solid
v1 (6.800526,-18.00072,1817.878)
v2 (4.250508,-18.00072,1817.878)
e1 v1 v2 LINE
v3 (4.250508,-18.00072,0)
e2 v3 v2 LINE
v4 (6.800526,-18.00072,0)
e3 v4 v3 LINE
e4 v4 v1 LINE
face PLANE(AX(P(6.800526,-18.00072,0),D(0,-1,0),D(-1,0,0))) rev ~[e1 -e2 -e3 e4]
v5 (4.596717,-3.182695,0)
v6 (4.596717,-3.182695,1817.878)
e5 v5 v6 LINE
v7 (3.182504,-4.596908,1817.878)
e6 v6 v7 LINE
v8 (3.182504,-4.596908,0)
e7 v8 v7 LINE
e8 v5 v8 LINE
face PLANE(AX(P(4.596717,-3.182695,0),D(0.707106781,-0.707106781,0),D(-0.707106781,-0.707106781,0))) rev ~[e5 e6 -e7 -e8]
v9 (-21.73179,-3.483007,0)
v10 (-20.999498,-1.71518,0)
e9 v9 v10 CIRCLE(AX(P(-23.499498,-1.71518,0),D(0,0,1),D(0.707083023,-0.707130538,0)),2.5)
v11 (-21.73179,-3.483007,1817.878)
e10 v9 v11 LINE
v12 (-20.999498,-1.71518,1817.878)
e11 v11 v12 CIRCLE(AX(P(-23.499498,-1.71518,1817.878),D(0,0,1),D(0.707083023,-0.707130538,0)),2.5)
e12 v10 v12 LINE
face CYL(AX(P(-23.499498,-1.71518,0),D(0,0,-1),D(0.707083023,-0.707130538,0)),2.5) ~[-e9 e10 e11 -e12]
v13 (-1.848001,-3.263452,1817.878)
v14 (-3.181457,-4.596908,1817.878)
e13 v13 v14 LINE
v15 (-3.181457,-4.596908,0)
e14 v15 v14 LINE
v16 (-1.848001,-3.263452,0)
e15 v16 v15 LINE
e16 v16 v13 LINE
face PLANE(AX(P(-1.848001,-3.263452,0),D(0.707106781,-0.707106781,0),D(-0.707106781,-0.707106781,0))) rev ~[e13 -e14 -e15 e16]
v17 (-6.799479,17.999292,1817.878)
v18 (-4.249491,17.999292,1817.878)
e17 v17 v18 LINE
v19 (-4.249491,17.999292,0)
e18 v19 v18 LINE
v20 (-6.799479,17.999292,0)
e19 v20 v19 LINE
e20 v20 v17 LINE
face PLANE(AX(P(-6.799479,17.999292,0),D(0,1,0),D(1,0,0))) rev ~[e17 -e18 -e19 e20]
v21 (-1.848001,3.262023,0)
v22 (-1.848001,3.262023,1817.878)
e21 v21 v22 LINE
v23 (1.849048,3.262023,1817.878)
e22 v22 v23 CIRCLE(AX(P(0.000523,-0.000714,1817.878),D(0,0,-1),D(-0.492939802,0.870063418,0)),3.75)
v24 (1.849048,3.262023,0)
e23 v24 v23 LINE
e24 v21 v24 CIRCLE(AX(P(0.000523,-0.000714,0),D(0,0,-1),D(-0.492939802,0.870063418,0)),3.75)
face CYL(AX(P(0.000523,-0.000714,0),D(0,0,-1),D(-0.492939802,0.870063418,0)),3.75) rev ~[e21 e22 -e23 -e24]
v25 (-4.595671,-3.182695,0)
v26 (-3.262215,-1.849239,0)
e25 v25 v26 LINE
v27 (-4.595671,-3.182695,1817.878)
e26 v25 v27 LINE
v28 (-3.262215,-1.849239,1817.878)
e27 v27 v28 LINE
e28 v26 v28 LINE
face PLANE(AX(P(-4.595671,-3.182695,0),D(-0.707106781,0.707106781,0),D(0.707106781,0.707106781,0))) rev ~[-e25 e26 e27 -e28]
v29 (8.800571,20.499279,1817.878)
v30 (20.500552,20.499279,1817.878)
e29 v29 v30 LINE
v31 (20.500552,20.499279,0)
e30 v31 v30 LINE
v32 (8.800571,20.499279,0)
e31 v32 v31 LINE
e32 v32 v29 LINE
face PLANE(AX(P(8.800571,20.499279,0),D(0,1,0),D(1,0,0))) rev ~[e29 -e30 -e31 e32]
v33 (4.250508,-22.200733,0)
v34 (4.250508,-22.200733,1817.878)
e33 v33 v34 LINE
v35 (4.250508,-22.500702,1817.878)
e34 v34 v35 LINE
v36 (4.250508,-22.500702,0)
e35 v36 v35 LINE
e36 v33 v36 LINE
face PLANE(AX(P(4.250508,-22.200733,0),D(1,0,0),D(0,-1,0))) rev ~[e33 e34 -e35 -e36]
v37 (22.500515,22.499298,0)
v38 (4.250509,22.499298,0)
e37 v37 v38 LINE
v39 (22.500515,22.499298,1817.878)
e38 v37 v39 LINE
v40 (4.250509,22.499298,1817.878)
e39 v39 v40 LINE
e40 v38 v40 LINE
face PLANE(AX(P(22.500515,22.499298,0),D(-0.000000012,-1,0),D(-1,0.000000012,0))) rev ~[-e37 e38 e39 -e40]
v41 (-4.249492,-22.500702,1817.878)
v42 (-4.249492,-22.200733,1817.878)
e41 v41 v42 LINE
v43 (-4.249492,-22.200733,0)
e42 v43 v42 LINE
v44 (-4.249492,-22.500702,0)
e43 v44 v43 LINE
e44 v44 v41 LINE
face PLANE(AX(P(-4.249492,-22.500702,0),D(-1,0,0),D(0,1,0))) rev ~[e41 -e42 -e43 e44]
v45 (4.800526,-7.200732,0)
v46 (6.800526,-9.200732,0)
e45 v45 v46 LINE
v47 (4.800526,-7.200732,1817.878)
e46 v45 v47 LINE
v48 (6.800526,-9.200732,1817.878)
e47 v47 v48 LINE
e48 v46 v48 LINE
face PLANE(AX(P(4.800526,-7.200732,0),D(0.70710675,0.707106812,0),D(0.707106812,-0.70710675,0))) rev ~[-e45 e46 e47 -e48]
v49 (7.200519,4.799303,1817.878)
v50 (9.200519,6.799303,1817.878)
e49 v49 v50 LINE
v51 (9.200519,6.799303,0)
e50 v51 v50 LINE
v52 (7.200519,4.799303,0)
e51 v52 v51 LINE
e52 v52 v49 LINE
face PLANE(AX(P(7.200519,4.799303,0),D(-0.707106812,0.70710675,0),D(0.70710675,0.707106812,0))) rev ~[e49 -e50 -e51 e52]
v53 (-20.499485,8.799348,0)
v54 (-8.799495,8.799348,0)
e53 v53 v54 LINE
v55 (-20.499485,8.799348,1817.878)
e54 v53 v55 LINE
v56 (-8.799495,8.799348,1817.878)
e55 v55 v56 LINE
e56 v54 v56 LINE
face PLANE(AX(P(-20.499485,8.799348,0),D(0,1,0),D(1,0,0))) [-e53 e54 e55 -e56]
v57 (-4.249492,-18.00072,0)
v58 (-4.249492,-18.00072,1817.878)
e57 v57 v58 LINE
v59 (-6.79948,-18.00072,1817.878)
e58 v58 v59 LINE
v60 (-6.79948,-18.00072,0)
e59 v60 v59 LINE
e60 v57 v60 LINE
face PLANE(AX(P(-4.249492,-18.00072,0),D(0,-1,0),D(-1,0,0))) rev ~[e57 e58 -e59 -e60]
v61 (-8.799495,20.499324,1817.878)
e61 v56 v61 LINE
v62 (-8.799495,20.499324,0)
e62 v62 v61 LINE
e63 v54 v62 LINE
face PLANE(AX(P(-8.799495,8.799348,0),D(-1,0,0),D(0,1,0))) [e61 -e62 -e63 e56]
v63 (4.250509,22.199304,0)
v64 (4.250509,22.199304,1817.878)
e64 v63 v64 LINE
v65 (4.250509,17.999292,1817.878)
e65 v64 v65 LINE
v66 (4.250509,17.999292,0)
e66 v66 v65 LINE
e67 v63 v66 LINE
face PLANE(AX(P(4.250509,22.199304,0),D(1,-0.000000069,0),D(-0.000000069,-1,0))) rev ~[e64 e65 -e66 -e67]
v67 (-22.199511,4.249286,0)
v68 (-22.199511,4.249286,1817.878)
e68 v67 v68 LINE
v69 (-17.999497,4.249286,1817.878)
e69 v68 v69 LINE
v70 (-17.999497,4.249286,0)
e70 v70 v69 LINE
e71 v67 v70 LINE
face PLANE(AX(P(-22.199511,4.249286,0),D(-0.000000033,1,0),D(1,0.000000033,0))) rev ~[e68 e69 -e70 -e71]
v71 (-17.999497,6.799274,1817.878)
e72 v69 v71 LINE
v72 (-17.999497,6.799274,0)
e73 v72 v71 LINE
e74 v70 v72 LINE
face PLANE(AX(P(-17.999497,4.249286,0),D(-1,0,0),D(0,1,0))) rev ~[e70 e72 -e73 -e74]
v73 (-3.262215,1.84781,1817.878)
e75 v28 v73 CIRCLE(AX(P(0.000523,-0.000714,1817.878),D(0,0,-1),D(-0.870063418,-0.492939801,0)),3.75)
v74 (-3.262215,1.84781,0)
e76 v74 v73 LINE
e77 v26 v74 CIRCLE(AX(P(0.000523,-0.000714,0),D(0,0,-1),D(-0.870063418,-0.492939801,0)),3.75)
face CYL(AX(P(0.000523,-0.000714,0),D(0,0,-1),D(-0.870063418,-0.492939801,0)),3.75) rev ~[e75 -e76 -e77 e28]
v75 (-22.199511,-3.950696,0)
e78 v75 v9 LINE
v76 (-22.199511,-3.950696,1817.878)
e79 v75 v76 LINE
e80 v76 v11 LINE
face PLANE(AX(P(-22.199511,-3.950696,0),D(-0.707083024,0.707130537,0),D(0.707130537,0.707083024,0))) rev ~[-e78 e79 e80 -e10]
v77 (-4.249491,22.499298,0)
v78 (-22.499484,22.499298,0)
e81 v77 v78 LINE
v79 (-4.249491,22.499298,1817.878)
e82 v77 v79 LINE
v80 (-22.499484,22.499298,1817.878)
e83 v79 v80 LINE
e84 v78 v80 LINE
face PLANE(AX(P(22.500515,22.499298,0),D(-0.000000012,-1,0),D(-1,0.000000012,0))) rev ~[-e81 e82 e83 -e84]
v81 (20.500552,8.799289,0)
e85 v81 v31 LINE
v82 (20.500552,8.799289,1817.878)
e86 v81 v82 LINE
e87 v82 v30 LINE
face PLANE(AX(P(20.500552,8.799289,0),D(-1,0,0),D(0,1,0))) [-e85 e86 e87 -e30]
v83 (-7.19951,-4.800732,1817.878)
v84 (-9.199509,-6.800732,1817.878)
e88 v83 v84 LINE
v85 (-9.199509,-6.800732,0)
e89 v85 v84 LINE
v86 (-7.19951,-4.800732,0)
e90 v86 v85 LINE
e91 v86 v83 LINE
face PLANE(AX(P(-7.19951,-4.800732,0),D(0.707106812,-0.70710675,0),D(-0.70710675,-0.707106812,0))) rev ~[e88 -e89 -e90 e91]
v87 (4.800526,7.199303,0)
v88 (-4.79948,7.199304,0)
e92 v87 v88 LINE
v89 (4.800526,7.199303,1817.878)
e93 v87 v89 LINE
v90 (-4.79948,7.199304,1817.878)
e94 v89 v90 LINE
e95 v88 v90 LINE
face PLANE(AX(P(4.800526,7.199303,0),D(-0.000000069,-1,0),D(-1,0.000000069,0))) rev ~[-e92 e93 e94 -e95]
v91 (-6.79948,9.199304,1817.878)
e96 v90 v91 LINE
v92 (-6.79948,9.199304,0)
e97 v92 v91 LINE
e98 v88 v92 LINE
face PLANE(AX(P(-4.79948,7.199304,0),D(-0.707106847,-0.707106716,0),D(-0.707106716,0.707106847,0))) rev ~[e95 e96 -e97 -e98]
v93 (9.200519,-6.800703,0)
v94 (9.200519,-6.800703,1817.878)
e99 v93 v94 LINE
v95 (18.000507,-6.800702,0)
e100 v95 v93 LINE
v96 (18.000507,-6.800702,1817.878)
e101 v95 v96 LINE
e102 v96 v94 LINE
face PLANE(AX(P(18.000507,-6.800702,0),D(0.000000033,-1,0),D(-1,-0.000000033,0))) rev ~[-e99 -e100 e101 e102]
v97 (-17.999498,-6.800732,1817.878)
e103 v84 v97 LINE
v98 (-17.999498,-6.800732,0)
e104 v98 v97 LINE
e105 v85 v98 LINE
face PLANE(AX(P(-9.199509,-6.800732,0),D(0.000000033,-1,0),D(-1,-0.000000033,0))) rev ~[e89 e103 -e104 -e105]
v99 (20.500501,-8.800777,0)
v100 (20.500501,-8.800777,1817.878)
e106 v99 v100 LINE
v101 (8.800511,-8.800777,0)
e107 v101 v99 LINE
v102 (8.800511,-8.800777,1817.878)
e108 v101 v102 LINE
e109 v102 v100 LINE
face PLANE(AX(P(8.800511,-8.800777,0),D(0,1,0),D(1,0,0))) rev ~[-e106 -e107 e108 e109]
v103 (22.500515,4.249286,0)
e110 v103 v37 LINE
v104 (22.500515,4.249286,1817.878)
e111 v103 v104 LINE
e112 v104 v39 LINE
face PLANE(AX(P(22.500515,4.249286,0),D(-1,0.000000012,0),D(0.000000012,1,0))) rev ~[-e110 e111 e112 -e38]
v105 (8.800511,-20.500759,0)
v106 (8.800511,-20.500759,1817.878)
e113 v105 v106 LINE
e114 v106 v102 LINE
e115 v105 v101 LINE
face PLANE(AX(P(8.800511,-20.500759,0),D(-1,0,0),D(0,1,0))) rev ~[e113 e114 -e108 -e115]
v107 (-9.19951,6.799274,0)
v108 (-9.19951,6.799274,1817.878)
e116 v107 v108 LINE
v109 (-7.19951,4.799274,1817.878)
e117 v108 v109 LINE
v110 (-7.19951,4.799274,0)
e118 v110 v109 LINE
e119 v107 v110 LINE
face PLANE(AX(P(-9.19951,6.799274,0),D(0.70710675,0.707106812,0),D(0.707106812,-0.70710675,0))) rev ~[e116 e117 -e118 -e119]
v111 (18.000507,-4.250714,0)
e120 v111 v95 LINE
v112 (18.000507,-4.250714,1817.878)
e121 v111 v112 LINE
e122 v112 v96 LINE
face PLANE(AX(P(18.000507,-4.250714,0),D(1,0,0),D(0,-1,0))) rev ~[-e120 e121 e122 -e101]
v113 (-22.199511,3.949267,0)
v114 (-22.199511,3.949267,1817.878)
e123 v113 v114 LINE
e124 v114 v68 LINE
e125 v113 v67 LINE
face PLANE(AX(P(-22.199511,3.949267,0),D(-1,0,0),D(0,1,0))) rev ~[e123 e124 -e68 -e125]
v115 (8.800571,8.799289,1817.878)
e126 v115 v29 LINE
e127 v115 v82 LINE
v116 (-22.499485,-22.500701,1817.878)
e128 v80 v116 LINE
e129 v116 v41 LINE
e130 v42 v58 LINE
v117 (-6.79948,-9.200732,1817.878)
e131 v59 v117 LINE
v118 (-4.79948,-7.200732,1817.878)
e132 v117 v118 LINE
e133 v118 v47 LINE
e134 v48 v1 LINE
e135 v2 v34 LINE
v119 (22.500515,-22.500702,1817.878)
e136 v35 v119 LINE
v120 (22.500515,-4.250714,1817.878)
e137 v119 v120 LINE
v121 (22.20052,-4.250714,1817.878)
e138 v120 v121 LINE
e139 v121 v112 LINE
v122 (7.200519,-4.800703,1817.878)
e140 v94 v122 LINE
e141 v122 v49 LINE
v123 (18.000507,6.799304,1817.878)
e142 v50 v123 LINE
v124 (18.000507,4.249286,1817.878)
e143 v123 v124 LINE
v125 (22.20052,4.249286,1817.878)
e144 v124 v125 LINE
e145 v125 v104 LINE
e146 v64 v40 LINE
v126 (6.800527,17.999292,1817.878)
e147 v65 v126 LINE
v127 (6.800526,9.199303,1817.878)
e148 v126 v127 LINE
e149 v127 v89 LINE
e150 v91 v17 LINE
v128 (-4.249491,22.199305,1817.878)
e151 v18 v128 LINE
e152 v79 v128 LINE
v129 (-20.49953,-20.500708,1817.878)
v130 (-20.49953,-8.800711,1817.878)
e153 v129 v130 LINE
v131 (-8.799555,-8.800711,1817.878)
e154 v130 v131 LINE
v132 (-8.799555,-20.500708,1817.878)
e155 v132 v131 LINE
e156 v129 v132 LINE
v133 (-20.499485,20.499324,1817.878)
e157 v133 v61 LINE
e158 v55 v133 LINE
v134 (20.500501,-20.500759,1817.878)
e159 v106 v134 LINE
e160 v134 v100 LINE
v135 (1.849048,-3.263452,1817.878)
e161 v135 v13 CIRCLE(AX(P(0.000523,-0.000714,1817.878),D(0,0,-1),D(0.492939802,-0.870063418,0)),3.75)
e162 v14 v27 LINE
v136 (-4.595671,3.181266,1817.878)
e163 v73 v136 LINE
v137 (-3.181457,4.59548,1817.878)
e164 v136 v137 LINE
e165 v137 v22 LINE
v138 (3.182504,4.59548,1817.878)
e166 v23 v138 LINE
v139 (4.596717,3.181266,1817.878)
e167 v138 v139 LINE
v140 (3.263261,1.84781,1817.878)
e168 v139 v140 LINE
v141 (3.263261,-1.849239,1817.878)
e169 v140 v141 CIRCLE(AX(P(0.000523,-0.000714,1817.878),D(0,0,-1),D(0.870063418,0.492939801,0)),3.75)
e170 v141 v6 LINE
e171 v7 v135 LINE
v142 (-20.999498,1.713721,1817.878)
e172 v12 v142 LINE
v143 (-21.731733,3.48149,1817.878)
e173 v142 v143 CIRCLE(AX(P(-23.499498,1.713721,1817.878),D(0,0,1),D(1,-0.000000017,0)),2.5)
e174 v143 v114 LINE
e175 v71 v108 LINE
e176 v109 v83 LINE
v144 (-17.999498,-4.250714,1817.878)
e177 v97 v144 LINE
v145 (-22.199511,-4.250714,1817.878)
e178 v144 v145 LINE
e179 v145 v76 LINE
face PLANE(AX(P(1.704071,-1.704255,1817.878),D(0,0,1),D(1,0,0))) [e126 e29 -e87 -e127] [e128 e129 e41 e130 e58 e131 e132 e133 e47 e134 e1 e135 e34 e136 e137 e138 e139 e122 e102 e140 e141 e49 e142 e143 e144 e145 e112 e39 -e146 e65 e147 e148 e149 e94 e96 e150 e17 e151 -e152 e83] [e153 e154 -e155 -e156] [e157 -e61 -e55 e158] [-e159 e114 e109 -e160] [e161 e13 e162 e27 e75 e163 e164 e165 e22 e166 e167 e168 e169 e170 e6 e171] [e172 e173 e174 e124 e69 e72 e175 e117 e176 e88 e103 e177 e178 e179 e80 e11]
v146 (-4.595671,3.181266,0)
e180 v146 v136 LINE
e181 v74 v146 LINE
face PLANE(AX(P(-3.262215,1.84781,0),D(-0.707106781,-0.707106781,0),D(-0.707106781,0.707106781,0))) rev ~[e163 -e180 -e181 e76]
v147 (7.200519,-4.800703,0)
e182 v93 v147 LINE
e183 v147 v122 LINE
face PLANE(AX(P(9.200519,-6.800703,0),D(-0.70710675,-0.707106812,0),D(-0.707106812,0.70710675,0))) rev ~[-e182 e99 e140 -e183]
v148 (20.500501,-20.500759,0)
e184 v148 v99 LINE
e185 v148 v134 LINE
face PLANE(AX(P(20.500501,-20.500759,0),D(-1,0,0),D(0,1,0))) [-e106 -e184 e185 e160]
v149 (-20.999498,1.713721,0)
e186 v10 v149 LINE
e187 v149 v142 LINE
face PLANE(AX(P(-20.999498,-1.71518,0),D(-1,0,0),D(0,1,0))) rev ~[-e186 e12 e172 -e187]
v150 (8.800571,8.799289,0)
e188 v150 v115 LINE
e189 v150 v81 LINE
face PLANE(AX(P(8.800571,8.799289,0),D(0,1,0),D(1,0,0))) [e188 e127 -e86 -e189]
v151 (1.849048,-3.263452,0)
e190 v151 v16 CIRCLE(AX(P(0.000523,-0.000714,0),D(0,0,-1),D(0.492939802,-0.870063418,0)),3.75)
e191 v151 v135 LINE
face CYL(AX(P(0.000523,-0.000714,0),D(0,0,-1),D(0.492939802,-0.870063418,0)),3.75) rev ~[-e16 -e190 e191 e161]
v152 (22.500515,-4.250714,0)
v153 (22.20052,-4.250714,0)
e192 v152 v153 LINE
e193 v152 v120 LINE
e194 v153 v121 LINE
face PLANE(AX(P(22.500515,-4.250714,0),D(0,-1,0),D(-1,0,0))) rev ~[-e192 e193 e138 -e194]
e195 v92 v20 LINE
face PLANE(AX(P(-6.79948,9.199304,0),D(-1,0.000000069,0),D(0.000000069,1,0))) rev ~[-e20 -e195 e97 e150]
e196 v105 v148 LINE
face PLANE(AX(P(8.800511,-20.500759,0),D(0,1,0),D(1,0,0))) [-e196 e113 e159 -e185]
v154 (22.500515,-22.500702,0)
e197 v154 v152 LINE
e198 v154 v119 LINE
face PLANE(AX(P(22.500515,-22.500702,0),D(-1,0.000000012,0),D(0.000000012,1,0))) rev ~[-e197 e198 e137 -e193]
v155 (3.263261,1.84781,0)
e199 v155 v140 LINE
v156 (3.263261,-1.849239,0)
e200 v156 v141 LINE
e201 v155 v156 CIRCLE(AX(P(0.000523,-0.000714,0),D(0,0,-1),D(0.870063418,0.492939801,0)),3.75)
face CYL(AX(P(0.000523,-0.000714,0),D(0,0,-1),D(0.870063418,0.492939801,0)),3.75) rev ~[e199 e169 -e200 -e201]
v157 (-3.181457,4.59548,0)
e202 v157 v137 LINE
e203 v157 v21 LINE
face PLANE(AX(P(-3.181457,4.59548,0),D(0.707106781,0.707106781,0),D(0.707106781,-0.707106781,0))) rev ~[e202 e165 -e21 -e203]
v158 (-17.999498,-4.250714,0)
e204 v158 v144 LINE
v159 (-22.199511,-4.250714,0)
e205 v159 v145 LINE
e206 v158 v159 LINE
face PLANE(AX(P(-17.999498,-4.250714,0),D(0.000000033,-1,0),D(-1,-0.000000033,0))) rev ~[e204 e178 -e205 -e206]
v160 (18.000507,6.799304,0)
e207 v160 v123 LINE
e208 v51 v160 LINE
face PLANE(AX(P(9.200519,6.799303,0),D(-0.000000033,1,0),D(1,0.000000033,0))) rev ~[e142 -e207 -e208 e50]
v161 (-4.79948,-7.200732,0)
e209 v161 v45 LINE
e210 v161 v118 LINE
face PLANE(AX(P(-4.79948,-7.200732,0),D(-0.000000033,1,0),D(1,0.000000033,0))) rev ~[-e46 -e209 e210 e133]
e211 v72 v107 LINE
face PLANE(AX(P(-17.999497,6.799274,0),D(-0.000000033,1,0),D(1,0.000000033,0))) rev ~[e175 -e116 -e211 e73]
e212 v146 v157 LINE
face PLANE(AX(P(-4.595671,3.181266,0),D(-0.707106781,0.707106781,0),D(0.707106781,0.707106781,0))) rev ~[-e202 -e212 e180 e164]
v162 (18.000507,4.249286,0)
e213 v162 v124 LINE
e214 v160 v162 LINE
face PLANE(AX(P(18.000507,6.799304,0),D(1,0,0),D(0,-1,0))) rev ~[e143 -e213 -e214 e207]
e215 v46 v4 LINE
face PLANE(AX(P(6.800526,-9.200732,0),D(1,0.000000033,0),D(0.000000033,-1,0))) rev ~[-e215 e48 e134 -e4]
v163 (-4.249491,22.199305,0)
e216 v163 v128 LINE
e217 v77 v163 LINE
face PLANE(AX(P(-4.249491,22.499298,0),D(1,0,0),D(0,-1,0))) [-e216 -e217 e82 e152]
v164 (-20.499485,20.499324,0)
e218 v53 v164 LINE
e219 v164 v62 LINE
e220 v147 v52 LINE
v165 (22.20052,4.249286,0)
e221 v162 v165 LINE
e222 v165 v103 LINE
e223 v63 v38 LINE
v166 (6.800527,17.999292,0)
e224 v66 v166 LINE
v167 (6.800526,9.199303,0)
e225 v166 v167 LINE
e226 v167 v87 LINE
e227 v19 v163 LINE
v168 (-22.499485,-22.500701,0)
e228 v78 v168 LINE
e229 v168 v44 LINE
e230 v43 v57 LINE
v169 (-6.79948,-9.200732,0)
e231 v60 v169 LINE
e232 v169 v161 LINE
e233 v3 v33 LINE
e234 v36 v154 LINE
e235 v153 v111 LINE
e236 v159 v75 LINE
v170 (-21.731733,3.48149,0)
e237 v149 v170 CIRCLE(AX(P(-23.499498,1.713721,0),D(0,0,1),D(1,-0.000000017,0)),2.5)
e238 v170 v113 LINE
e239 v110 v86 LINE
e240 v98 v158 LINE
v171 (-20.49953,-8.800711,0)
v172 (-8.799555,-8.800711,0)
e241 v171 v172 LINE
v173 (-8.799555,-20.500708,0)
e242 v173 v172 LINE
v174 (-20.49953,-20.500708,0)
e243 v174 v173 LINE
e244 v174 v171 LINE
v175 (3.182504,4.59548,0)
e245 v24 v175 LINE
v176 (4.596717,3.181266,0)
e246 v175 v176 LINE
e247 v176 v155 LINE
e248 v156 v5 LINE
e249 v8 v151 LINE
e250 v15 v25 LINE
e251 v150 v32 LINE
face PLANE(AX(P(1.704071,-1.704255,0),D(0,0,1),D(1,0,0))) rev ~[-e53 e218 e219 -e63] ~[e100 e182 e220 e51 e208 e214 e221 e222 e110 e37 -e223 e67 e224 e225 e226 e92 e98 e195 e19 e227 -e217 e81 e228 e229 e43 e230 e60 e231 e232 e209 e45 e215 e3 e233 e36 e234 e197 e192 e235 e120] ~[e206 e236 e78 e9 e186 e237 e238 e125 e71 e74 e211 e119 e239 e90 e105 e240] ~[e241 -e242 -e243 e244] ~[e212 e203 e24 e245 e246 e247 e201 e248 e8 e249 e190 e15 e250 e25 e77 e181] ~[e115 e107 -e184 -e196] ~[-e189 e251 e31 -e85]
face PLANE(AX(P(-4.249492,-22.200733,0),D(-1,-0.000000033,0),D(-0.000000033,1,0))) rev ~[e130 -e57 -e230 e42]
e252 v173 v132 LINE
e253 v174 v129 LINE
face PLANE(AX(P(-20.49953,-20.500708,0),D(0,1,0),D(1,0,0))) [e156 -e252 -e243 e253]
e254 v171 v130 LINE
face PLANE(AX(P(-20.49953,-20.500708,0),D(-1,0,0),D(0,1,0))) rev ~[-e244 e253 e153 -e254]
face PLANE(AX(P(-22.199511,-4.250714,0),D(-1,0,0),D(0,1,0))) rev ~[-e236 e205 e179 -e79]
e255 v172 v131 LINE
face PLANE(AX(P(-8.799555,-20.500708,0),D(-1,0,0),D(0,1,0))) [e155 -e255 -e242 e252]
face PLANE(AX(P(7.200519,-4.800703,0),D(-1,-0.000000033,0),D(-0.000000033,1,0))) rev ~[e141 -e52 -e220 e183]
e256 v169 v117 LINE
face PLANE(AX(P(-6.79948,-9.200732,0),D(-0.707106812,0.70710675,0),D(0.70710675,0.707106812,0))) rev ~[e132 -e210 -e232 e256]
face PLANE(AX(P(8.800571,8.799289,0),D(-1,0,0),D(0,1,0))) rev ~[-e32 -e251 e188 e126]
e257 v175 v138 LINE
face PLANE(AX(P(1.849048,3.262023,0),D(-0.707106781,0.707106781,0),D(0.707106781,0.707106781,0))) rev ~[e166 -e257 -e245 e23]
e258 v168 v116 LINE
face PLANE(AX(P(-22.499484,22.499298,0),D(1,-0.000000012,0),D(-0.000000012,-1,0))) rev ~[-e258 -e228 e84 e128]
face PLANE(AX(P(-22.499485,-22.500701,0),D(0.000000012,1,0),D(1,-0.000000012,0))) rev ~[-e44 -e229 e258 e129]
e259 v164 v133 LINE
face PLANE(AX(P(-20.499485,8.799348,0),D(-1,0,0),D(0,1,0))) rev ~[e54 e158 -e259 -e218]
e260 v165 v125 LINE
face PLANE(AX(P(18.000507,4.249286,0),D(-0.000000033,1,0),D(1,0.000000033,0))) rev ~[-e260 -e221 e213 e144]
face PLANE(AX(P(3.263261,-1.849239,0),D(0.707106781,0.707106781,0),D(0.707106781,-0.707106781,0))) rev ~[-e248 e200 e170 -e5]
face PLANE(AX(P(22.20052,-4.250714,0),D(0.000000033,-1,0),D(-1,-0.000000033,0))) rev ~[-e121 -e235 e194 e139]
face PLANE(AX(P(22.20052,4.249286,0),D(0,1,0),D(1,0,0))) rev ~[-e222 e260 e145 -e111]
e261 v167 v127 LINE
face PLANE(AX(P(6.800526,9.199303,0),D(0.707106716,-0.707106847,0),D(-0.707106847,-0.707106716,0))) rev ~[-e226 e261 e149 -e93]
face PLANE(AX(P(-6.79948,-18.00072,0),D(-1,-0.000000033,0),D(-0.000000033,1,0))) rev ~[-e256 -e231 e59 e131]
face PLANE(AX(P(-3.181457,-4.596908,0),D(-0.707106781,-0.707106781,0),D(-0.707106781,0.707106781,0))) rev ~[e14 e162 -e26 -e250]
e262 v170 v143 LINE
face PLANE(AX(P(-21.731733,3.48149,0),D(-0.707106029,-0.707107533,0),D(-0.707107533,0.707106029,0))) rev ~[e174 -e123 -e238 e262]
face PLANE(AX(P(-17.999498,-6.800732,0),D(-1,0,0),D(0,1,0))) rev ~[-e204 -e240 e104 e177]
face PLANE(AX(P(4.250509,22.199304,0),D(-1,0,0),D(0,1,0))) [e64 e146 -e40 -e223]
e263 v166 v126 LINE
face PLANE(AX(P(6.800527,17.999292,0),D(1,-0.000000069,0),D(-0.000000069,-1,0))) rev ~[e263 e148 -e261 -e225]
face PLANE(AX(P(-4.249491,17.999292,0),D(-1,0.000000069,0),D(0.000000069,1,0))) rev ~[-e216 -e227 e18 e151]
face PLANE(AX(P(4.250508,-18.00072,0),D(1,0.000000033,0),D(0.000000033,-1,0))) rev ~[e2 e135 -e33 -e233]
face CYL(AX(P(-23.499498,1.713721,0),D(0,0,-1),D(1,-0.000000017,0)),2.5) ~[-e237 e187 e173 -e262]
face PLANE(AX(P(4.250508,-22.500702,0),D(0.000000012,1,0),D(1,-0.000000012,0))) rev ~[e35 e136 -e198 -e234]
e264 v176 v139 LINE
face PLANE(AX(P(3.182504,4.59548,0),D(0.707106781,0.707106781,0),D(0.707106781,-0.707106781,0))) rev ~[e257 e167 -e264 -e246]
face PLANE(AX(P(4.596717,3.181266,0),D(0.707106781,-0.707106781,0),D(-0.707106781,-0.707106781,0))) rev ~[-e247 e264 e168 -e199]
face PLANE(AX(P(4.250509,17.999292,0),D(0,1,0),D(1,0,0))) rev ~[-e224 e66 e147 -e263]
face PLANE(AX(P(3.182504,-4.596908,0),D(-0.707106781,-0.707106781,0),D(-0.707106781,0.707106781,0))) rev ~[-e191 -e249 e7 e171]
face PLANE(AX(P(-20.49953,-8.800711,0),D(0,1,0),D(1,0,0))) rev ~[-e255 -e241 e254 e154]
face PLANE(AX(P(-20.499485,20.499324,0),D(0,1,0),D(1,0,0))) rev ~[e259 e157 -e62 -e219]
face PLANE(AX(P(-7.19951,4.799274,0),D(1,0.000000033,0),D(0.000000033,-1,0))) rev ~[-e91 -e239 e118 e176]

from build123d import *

# Parameters (mm, degrees)
SKETCH1_W           = 11.699975178
SKETCH1_H           = 11.699996949
SKETCH1_W_2         = 11.699990436
SKETCH1_H_2         = 11.699981689
SKETCH1_W_3         = 11.699990437
SKETCH1_H_3         = 11.699975177
SKETCH1_W_4         = 11.699981689
SKETCH1_H_4         = 11.699990436
BOSS_EXTRUDE1_DEPTH = 1817.878
CUT_EXTRUDE1_REACH  = 1820.156


with BuildPart() as part:
    # Sketch1 → Boss-Extrude1 (new body)
    with BuildSketch(Plane.XY):
        Polygon((22.500515052, 22.499297556), (-22.499484399, 22.499298105), (-22.499484948, -22.500701346), (-4.249491942, -22.500701568), (-4.249491942, -22.200733242), (-4.24949208, -18.000719999), (-6.799479919, -18.000719999), (-6.799480207, -9.200732353), (-4.799480391, -7.200732362), (4.800525817, -7.200732047), (6.8005258, -9.200731855), (6.800526088, -18.000720263), (4.250507877, -18.000720263), (4.250508015, -22.200733153), (4.250508015, -22.500701672), (22.500514502, -22.500701895), (22.500514725, -4.250714302), (22.200520351, -4.250714302), (18.000507108, -4.25071444), (18.000507108, -6.800702279), (9.200519462, -6.800702567), (7.200519471, -4.800702751), (7.200519156, 4.799303458), (9.200518964, 6.79930344), (18.000507424, 6.799303729), (18.000507424, 4.249285514), (22.200520261, 4.249285652), (22.500514829, 4.249285652), align=None)
        with BuildLine():
            Line((-4.249491247, 17.999291576), (-4.249490956, 22.199304807))
            Line((-4.249490956, 22.199304807), (-3.949472548, 22.199304807))
            Line((-3.949472548, 22.199304807), (-3.481695222, 21.73152644))
            ThreePointArc((-3.481695222, 21.73152644), (-2.670636178, 21.189593132), (-1.713926324, 20.999291428))
            Line((-1.713926324, 20.999291428), (1.714975167, 20.999291428))
            ThreePointArc((1.714975167, 20.999291428), (2.671722509, 21.189608628), (3.482801459, 21.731583767))
            Line((3.482801459, 21.731583767), (3.950490798, 22.199304487))
            Line((3.950490798, 22.199304487), (4.250509108, 22.199304487))
            Line((4.250509108, 22.199304487), (4.250508817, 17.999291575))
            Line((4.250508817, 17.999291575), (6.800527063, 17.999291575))
            Line((6.800527063, 17.999291575), (6.800526453, 9.199302988))
            Line((6.800526453, 9.199302988), (4.800526064, 7.199302969))
            Line((4.800526064, 7.199302969), (-4.799479817, 7.199303635))
            Line((-4.799479817, 7.199303635), (-6.799479854, 9.199304042))
            Line((-6.799479854, 9.199304042), (-6.799479244, 17.999291576))
            Line((-6.799479244, 17.999291576), (-4.249491247, 17.999291576))
        make_face(mode=Mode.SUBTRACT)
        with BuildLine():
            Line((-17.99949762, -4.250714253), (-22.199510799, -4.250714391))
            Line((-22.199510799, -4.250714391), (-22.199510799, -3.950696126))
            Line((-22.199510799, -3.950696126), (-21.731790056, -3.48300681))
            ThreePointArc((-21.731790056, -3.48300681), (-21.189814855, -2.671927844), (-20.999497617, -1.71518046))
            Line((-20.999497617, -1.71518046), (-20.999497617, 1.713721031))
            ThreePointArc((-20.999497617, 1.713721031), (-21.189799286, 2.670430863), (-21.731732544, 3.481489907))
            Line((-21.731732544, 3.481489907), (-22.199510888, 3.949267256))
            Line((-22.199510888, 3.949267256), (-22.199510888, 4.249285566))
            Line((-22.199510888, 4.249285566), (-17.999497356, 4.249285704))
            Line((-17.999497356, 4.249285704), (-17.999497356, 6.79927354))
            Line((-17.999497356, 6.79927354), (-9.199509947, 6.799273828))
            Line((-9.199509947, 6.799273828), (-7.199509956, 4.799274012))
            Line((-7.199509956, 4.799274012), (-7.199509641, -4.800732197))
            Line((-7.199509641, -4.800732197), (-9.199509449, -6.800732179))
            Line((-9.199509449, -6.800732179), (-17.99949762, -6.800732468))
            Line((-17.99949762, -6.800732468), (-17.99949762, -4.250714253))
        make_face(mode=Mode.SUBTRACT)
        with Locations((-14.649542346, -14.650709384)):
            Rectangle(SKETCH1_W, SKETCH1_H, mode=Mode.SUBTRACT)
        with Locations((14.65050626, -14.650767962)):
            Rectangle(SKETCH1_W_2, SKETCH1_H_2, mode=Mode.SUBTRACT)
        with BuildLine():
            Line((-3.181457266, -4.596908447), (-4.595670829, -3.182694885))
            Line((-4.595670829, -3.182694885), (-3.26221457, -1.849238626))
            ThreePointArc((-3.26221457, -1.849238626), (-3.749476751, -0.00071437), (-3.26221457, 1.847809887))
            Line((-3.26221457, 1.847809887), (-4.595670829, 3.181266146))
            Line((-4.595670829, 3.181266146), (-3.181457266, 4.595479708))
            Line((-3.181457266, 4.595479708), (-1.848001007, 3.262023449))
            ThreePointArc((-1.848001007, 3.262023449), (0.000523249, 3.74928563), (1.849047505, 3.262023449))
            Line((1.849047505, 3.262023449), (3.182503764, 4.595479708))
            Line((3.182503764, 4.595479708), (4.596717327, 3.181266146))
            Line((4.596717327, 3.181266146), (3.263261068, 1.847809887))
            ThreePointArc((3.263261068, 1.847809887), (3.750523249, -0.00071437), (3.263261068, -1.849238626))
            Line((3.263261068, -1.849238626), (4.596717327, -3.182694885))
            Line((4.596717327, -3.182694885), (3.182503764, -4.596908447))
            Line((3.182503764, -4.596908447), (1.849047505, -3.263452188))
            ThreePointArc((1.849047505, -3.263452188), (0.000523249, -3.75071437), (-1.848001007, -3.263452188))
            Line((-1.848001007, -3.263452188), (-3.181457266, -4.596908447))
        make_face(mode=Mode.SUBTRACT)
        with Locations((-14.64949028, 14.649335967)):
            Rectangle(SKETCH1_W_3, SKETCH1_H_3, mode=Mode.SUBTRACT)
        with Locations((14.650561583, 14.6492839)):
            Rectangle(SKETCH1_W_4, SKETCH1_H_4, mode=Mode.SUBTRACT)
    extrude(amount=BOSS_EXTRUDE1_DEPTH)

    # Sketch1<4> → Cut-Extrude1 (cut, up to next)
    with BuildSketch(Plane.XY, mode=Mode.PRIVATE) as cut_extrude1_sk1:
        with BuildLine():
            Line((-4.249490956, 22.499297883), (-4.249490956, 22.199304807))
            Line((-4.249490956, 22.199304807), (-3.949472548, 22.199304807))
            Line((-3.949472548, 22.199304807), (-3.481695222, 21.73152644))
            ThreePointArc((-3.481695222, 21.73152644), (-2.670636178, 21.189593132), (-1.713926324, 20.999291428))
            Line((-1.713926324, 20.999291428), (1.714975167, 20.999291428))
            ThreePointArc((1.714975167, 20.999291428), (2.671722509, 21.189608628), (3.482801459, 21.731583767))
            Line((3.482801459, 21.731583767), (3.950490798, 22.199304487))
            Line((3.950490798, 22.199304487), (4.250509108, 22.199304487))
            Line((4.250509108, 22.199304487), (4.250509108, 22.499297779))
            Line((4.250509108, 22.499297779), (-4.249490956, 22.499297883))
        make_face()
    cut_extrude1_tool1 = extrude(cut_extrude1_sk1.sketch, amount=CUT_EXTRUDE1_REACH, mode=Mode.PRIVATE) & part.part
    add(cut_extrude1_tool1.solids().sort_by_distance((0.000518, 21.824215, 0))[0], mode=Mode.SUBTRACT)


solid = part.part
